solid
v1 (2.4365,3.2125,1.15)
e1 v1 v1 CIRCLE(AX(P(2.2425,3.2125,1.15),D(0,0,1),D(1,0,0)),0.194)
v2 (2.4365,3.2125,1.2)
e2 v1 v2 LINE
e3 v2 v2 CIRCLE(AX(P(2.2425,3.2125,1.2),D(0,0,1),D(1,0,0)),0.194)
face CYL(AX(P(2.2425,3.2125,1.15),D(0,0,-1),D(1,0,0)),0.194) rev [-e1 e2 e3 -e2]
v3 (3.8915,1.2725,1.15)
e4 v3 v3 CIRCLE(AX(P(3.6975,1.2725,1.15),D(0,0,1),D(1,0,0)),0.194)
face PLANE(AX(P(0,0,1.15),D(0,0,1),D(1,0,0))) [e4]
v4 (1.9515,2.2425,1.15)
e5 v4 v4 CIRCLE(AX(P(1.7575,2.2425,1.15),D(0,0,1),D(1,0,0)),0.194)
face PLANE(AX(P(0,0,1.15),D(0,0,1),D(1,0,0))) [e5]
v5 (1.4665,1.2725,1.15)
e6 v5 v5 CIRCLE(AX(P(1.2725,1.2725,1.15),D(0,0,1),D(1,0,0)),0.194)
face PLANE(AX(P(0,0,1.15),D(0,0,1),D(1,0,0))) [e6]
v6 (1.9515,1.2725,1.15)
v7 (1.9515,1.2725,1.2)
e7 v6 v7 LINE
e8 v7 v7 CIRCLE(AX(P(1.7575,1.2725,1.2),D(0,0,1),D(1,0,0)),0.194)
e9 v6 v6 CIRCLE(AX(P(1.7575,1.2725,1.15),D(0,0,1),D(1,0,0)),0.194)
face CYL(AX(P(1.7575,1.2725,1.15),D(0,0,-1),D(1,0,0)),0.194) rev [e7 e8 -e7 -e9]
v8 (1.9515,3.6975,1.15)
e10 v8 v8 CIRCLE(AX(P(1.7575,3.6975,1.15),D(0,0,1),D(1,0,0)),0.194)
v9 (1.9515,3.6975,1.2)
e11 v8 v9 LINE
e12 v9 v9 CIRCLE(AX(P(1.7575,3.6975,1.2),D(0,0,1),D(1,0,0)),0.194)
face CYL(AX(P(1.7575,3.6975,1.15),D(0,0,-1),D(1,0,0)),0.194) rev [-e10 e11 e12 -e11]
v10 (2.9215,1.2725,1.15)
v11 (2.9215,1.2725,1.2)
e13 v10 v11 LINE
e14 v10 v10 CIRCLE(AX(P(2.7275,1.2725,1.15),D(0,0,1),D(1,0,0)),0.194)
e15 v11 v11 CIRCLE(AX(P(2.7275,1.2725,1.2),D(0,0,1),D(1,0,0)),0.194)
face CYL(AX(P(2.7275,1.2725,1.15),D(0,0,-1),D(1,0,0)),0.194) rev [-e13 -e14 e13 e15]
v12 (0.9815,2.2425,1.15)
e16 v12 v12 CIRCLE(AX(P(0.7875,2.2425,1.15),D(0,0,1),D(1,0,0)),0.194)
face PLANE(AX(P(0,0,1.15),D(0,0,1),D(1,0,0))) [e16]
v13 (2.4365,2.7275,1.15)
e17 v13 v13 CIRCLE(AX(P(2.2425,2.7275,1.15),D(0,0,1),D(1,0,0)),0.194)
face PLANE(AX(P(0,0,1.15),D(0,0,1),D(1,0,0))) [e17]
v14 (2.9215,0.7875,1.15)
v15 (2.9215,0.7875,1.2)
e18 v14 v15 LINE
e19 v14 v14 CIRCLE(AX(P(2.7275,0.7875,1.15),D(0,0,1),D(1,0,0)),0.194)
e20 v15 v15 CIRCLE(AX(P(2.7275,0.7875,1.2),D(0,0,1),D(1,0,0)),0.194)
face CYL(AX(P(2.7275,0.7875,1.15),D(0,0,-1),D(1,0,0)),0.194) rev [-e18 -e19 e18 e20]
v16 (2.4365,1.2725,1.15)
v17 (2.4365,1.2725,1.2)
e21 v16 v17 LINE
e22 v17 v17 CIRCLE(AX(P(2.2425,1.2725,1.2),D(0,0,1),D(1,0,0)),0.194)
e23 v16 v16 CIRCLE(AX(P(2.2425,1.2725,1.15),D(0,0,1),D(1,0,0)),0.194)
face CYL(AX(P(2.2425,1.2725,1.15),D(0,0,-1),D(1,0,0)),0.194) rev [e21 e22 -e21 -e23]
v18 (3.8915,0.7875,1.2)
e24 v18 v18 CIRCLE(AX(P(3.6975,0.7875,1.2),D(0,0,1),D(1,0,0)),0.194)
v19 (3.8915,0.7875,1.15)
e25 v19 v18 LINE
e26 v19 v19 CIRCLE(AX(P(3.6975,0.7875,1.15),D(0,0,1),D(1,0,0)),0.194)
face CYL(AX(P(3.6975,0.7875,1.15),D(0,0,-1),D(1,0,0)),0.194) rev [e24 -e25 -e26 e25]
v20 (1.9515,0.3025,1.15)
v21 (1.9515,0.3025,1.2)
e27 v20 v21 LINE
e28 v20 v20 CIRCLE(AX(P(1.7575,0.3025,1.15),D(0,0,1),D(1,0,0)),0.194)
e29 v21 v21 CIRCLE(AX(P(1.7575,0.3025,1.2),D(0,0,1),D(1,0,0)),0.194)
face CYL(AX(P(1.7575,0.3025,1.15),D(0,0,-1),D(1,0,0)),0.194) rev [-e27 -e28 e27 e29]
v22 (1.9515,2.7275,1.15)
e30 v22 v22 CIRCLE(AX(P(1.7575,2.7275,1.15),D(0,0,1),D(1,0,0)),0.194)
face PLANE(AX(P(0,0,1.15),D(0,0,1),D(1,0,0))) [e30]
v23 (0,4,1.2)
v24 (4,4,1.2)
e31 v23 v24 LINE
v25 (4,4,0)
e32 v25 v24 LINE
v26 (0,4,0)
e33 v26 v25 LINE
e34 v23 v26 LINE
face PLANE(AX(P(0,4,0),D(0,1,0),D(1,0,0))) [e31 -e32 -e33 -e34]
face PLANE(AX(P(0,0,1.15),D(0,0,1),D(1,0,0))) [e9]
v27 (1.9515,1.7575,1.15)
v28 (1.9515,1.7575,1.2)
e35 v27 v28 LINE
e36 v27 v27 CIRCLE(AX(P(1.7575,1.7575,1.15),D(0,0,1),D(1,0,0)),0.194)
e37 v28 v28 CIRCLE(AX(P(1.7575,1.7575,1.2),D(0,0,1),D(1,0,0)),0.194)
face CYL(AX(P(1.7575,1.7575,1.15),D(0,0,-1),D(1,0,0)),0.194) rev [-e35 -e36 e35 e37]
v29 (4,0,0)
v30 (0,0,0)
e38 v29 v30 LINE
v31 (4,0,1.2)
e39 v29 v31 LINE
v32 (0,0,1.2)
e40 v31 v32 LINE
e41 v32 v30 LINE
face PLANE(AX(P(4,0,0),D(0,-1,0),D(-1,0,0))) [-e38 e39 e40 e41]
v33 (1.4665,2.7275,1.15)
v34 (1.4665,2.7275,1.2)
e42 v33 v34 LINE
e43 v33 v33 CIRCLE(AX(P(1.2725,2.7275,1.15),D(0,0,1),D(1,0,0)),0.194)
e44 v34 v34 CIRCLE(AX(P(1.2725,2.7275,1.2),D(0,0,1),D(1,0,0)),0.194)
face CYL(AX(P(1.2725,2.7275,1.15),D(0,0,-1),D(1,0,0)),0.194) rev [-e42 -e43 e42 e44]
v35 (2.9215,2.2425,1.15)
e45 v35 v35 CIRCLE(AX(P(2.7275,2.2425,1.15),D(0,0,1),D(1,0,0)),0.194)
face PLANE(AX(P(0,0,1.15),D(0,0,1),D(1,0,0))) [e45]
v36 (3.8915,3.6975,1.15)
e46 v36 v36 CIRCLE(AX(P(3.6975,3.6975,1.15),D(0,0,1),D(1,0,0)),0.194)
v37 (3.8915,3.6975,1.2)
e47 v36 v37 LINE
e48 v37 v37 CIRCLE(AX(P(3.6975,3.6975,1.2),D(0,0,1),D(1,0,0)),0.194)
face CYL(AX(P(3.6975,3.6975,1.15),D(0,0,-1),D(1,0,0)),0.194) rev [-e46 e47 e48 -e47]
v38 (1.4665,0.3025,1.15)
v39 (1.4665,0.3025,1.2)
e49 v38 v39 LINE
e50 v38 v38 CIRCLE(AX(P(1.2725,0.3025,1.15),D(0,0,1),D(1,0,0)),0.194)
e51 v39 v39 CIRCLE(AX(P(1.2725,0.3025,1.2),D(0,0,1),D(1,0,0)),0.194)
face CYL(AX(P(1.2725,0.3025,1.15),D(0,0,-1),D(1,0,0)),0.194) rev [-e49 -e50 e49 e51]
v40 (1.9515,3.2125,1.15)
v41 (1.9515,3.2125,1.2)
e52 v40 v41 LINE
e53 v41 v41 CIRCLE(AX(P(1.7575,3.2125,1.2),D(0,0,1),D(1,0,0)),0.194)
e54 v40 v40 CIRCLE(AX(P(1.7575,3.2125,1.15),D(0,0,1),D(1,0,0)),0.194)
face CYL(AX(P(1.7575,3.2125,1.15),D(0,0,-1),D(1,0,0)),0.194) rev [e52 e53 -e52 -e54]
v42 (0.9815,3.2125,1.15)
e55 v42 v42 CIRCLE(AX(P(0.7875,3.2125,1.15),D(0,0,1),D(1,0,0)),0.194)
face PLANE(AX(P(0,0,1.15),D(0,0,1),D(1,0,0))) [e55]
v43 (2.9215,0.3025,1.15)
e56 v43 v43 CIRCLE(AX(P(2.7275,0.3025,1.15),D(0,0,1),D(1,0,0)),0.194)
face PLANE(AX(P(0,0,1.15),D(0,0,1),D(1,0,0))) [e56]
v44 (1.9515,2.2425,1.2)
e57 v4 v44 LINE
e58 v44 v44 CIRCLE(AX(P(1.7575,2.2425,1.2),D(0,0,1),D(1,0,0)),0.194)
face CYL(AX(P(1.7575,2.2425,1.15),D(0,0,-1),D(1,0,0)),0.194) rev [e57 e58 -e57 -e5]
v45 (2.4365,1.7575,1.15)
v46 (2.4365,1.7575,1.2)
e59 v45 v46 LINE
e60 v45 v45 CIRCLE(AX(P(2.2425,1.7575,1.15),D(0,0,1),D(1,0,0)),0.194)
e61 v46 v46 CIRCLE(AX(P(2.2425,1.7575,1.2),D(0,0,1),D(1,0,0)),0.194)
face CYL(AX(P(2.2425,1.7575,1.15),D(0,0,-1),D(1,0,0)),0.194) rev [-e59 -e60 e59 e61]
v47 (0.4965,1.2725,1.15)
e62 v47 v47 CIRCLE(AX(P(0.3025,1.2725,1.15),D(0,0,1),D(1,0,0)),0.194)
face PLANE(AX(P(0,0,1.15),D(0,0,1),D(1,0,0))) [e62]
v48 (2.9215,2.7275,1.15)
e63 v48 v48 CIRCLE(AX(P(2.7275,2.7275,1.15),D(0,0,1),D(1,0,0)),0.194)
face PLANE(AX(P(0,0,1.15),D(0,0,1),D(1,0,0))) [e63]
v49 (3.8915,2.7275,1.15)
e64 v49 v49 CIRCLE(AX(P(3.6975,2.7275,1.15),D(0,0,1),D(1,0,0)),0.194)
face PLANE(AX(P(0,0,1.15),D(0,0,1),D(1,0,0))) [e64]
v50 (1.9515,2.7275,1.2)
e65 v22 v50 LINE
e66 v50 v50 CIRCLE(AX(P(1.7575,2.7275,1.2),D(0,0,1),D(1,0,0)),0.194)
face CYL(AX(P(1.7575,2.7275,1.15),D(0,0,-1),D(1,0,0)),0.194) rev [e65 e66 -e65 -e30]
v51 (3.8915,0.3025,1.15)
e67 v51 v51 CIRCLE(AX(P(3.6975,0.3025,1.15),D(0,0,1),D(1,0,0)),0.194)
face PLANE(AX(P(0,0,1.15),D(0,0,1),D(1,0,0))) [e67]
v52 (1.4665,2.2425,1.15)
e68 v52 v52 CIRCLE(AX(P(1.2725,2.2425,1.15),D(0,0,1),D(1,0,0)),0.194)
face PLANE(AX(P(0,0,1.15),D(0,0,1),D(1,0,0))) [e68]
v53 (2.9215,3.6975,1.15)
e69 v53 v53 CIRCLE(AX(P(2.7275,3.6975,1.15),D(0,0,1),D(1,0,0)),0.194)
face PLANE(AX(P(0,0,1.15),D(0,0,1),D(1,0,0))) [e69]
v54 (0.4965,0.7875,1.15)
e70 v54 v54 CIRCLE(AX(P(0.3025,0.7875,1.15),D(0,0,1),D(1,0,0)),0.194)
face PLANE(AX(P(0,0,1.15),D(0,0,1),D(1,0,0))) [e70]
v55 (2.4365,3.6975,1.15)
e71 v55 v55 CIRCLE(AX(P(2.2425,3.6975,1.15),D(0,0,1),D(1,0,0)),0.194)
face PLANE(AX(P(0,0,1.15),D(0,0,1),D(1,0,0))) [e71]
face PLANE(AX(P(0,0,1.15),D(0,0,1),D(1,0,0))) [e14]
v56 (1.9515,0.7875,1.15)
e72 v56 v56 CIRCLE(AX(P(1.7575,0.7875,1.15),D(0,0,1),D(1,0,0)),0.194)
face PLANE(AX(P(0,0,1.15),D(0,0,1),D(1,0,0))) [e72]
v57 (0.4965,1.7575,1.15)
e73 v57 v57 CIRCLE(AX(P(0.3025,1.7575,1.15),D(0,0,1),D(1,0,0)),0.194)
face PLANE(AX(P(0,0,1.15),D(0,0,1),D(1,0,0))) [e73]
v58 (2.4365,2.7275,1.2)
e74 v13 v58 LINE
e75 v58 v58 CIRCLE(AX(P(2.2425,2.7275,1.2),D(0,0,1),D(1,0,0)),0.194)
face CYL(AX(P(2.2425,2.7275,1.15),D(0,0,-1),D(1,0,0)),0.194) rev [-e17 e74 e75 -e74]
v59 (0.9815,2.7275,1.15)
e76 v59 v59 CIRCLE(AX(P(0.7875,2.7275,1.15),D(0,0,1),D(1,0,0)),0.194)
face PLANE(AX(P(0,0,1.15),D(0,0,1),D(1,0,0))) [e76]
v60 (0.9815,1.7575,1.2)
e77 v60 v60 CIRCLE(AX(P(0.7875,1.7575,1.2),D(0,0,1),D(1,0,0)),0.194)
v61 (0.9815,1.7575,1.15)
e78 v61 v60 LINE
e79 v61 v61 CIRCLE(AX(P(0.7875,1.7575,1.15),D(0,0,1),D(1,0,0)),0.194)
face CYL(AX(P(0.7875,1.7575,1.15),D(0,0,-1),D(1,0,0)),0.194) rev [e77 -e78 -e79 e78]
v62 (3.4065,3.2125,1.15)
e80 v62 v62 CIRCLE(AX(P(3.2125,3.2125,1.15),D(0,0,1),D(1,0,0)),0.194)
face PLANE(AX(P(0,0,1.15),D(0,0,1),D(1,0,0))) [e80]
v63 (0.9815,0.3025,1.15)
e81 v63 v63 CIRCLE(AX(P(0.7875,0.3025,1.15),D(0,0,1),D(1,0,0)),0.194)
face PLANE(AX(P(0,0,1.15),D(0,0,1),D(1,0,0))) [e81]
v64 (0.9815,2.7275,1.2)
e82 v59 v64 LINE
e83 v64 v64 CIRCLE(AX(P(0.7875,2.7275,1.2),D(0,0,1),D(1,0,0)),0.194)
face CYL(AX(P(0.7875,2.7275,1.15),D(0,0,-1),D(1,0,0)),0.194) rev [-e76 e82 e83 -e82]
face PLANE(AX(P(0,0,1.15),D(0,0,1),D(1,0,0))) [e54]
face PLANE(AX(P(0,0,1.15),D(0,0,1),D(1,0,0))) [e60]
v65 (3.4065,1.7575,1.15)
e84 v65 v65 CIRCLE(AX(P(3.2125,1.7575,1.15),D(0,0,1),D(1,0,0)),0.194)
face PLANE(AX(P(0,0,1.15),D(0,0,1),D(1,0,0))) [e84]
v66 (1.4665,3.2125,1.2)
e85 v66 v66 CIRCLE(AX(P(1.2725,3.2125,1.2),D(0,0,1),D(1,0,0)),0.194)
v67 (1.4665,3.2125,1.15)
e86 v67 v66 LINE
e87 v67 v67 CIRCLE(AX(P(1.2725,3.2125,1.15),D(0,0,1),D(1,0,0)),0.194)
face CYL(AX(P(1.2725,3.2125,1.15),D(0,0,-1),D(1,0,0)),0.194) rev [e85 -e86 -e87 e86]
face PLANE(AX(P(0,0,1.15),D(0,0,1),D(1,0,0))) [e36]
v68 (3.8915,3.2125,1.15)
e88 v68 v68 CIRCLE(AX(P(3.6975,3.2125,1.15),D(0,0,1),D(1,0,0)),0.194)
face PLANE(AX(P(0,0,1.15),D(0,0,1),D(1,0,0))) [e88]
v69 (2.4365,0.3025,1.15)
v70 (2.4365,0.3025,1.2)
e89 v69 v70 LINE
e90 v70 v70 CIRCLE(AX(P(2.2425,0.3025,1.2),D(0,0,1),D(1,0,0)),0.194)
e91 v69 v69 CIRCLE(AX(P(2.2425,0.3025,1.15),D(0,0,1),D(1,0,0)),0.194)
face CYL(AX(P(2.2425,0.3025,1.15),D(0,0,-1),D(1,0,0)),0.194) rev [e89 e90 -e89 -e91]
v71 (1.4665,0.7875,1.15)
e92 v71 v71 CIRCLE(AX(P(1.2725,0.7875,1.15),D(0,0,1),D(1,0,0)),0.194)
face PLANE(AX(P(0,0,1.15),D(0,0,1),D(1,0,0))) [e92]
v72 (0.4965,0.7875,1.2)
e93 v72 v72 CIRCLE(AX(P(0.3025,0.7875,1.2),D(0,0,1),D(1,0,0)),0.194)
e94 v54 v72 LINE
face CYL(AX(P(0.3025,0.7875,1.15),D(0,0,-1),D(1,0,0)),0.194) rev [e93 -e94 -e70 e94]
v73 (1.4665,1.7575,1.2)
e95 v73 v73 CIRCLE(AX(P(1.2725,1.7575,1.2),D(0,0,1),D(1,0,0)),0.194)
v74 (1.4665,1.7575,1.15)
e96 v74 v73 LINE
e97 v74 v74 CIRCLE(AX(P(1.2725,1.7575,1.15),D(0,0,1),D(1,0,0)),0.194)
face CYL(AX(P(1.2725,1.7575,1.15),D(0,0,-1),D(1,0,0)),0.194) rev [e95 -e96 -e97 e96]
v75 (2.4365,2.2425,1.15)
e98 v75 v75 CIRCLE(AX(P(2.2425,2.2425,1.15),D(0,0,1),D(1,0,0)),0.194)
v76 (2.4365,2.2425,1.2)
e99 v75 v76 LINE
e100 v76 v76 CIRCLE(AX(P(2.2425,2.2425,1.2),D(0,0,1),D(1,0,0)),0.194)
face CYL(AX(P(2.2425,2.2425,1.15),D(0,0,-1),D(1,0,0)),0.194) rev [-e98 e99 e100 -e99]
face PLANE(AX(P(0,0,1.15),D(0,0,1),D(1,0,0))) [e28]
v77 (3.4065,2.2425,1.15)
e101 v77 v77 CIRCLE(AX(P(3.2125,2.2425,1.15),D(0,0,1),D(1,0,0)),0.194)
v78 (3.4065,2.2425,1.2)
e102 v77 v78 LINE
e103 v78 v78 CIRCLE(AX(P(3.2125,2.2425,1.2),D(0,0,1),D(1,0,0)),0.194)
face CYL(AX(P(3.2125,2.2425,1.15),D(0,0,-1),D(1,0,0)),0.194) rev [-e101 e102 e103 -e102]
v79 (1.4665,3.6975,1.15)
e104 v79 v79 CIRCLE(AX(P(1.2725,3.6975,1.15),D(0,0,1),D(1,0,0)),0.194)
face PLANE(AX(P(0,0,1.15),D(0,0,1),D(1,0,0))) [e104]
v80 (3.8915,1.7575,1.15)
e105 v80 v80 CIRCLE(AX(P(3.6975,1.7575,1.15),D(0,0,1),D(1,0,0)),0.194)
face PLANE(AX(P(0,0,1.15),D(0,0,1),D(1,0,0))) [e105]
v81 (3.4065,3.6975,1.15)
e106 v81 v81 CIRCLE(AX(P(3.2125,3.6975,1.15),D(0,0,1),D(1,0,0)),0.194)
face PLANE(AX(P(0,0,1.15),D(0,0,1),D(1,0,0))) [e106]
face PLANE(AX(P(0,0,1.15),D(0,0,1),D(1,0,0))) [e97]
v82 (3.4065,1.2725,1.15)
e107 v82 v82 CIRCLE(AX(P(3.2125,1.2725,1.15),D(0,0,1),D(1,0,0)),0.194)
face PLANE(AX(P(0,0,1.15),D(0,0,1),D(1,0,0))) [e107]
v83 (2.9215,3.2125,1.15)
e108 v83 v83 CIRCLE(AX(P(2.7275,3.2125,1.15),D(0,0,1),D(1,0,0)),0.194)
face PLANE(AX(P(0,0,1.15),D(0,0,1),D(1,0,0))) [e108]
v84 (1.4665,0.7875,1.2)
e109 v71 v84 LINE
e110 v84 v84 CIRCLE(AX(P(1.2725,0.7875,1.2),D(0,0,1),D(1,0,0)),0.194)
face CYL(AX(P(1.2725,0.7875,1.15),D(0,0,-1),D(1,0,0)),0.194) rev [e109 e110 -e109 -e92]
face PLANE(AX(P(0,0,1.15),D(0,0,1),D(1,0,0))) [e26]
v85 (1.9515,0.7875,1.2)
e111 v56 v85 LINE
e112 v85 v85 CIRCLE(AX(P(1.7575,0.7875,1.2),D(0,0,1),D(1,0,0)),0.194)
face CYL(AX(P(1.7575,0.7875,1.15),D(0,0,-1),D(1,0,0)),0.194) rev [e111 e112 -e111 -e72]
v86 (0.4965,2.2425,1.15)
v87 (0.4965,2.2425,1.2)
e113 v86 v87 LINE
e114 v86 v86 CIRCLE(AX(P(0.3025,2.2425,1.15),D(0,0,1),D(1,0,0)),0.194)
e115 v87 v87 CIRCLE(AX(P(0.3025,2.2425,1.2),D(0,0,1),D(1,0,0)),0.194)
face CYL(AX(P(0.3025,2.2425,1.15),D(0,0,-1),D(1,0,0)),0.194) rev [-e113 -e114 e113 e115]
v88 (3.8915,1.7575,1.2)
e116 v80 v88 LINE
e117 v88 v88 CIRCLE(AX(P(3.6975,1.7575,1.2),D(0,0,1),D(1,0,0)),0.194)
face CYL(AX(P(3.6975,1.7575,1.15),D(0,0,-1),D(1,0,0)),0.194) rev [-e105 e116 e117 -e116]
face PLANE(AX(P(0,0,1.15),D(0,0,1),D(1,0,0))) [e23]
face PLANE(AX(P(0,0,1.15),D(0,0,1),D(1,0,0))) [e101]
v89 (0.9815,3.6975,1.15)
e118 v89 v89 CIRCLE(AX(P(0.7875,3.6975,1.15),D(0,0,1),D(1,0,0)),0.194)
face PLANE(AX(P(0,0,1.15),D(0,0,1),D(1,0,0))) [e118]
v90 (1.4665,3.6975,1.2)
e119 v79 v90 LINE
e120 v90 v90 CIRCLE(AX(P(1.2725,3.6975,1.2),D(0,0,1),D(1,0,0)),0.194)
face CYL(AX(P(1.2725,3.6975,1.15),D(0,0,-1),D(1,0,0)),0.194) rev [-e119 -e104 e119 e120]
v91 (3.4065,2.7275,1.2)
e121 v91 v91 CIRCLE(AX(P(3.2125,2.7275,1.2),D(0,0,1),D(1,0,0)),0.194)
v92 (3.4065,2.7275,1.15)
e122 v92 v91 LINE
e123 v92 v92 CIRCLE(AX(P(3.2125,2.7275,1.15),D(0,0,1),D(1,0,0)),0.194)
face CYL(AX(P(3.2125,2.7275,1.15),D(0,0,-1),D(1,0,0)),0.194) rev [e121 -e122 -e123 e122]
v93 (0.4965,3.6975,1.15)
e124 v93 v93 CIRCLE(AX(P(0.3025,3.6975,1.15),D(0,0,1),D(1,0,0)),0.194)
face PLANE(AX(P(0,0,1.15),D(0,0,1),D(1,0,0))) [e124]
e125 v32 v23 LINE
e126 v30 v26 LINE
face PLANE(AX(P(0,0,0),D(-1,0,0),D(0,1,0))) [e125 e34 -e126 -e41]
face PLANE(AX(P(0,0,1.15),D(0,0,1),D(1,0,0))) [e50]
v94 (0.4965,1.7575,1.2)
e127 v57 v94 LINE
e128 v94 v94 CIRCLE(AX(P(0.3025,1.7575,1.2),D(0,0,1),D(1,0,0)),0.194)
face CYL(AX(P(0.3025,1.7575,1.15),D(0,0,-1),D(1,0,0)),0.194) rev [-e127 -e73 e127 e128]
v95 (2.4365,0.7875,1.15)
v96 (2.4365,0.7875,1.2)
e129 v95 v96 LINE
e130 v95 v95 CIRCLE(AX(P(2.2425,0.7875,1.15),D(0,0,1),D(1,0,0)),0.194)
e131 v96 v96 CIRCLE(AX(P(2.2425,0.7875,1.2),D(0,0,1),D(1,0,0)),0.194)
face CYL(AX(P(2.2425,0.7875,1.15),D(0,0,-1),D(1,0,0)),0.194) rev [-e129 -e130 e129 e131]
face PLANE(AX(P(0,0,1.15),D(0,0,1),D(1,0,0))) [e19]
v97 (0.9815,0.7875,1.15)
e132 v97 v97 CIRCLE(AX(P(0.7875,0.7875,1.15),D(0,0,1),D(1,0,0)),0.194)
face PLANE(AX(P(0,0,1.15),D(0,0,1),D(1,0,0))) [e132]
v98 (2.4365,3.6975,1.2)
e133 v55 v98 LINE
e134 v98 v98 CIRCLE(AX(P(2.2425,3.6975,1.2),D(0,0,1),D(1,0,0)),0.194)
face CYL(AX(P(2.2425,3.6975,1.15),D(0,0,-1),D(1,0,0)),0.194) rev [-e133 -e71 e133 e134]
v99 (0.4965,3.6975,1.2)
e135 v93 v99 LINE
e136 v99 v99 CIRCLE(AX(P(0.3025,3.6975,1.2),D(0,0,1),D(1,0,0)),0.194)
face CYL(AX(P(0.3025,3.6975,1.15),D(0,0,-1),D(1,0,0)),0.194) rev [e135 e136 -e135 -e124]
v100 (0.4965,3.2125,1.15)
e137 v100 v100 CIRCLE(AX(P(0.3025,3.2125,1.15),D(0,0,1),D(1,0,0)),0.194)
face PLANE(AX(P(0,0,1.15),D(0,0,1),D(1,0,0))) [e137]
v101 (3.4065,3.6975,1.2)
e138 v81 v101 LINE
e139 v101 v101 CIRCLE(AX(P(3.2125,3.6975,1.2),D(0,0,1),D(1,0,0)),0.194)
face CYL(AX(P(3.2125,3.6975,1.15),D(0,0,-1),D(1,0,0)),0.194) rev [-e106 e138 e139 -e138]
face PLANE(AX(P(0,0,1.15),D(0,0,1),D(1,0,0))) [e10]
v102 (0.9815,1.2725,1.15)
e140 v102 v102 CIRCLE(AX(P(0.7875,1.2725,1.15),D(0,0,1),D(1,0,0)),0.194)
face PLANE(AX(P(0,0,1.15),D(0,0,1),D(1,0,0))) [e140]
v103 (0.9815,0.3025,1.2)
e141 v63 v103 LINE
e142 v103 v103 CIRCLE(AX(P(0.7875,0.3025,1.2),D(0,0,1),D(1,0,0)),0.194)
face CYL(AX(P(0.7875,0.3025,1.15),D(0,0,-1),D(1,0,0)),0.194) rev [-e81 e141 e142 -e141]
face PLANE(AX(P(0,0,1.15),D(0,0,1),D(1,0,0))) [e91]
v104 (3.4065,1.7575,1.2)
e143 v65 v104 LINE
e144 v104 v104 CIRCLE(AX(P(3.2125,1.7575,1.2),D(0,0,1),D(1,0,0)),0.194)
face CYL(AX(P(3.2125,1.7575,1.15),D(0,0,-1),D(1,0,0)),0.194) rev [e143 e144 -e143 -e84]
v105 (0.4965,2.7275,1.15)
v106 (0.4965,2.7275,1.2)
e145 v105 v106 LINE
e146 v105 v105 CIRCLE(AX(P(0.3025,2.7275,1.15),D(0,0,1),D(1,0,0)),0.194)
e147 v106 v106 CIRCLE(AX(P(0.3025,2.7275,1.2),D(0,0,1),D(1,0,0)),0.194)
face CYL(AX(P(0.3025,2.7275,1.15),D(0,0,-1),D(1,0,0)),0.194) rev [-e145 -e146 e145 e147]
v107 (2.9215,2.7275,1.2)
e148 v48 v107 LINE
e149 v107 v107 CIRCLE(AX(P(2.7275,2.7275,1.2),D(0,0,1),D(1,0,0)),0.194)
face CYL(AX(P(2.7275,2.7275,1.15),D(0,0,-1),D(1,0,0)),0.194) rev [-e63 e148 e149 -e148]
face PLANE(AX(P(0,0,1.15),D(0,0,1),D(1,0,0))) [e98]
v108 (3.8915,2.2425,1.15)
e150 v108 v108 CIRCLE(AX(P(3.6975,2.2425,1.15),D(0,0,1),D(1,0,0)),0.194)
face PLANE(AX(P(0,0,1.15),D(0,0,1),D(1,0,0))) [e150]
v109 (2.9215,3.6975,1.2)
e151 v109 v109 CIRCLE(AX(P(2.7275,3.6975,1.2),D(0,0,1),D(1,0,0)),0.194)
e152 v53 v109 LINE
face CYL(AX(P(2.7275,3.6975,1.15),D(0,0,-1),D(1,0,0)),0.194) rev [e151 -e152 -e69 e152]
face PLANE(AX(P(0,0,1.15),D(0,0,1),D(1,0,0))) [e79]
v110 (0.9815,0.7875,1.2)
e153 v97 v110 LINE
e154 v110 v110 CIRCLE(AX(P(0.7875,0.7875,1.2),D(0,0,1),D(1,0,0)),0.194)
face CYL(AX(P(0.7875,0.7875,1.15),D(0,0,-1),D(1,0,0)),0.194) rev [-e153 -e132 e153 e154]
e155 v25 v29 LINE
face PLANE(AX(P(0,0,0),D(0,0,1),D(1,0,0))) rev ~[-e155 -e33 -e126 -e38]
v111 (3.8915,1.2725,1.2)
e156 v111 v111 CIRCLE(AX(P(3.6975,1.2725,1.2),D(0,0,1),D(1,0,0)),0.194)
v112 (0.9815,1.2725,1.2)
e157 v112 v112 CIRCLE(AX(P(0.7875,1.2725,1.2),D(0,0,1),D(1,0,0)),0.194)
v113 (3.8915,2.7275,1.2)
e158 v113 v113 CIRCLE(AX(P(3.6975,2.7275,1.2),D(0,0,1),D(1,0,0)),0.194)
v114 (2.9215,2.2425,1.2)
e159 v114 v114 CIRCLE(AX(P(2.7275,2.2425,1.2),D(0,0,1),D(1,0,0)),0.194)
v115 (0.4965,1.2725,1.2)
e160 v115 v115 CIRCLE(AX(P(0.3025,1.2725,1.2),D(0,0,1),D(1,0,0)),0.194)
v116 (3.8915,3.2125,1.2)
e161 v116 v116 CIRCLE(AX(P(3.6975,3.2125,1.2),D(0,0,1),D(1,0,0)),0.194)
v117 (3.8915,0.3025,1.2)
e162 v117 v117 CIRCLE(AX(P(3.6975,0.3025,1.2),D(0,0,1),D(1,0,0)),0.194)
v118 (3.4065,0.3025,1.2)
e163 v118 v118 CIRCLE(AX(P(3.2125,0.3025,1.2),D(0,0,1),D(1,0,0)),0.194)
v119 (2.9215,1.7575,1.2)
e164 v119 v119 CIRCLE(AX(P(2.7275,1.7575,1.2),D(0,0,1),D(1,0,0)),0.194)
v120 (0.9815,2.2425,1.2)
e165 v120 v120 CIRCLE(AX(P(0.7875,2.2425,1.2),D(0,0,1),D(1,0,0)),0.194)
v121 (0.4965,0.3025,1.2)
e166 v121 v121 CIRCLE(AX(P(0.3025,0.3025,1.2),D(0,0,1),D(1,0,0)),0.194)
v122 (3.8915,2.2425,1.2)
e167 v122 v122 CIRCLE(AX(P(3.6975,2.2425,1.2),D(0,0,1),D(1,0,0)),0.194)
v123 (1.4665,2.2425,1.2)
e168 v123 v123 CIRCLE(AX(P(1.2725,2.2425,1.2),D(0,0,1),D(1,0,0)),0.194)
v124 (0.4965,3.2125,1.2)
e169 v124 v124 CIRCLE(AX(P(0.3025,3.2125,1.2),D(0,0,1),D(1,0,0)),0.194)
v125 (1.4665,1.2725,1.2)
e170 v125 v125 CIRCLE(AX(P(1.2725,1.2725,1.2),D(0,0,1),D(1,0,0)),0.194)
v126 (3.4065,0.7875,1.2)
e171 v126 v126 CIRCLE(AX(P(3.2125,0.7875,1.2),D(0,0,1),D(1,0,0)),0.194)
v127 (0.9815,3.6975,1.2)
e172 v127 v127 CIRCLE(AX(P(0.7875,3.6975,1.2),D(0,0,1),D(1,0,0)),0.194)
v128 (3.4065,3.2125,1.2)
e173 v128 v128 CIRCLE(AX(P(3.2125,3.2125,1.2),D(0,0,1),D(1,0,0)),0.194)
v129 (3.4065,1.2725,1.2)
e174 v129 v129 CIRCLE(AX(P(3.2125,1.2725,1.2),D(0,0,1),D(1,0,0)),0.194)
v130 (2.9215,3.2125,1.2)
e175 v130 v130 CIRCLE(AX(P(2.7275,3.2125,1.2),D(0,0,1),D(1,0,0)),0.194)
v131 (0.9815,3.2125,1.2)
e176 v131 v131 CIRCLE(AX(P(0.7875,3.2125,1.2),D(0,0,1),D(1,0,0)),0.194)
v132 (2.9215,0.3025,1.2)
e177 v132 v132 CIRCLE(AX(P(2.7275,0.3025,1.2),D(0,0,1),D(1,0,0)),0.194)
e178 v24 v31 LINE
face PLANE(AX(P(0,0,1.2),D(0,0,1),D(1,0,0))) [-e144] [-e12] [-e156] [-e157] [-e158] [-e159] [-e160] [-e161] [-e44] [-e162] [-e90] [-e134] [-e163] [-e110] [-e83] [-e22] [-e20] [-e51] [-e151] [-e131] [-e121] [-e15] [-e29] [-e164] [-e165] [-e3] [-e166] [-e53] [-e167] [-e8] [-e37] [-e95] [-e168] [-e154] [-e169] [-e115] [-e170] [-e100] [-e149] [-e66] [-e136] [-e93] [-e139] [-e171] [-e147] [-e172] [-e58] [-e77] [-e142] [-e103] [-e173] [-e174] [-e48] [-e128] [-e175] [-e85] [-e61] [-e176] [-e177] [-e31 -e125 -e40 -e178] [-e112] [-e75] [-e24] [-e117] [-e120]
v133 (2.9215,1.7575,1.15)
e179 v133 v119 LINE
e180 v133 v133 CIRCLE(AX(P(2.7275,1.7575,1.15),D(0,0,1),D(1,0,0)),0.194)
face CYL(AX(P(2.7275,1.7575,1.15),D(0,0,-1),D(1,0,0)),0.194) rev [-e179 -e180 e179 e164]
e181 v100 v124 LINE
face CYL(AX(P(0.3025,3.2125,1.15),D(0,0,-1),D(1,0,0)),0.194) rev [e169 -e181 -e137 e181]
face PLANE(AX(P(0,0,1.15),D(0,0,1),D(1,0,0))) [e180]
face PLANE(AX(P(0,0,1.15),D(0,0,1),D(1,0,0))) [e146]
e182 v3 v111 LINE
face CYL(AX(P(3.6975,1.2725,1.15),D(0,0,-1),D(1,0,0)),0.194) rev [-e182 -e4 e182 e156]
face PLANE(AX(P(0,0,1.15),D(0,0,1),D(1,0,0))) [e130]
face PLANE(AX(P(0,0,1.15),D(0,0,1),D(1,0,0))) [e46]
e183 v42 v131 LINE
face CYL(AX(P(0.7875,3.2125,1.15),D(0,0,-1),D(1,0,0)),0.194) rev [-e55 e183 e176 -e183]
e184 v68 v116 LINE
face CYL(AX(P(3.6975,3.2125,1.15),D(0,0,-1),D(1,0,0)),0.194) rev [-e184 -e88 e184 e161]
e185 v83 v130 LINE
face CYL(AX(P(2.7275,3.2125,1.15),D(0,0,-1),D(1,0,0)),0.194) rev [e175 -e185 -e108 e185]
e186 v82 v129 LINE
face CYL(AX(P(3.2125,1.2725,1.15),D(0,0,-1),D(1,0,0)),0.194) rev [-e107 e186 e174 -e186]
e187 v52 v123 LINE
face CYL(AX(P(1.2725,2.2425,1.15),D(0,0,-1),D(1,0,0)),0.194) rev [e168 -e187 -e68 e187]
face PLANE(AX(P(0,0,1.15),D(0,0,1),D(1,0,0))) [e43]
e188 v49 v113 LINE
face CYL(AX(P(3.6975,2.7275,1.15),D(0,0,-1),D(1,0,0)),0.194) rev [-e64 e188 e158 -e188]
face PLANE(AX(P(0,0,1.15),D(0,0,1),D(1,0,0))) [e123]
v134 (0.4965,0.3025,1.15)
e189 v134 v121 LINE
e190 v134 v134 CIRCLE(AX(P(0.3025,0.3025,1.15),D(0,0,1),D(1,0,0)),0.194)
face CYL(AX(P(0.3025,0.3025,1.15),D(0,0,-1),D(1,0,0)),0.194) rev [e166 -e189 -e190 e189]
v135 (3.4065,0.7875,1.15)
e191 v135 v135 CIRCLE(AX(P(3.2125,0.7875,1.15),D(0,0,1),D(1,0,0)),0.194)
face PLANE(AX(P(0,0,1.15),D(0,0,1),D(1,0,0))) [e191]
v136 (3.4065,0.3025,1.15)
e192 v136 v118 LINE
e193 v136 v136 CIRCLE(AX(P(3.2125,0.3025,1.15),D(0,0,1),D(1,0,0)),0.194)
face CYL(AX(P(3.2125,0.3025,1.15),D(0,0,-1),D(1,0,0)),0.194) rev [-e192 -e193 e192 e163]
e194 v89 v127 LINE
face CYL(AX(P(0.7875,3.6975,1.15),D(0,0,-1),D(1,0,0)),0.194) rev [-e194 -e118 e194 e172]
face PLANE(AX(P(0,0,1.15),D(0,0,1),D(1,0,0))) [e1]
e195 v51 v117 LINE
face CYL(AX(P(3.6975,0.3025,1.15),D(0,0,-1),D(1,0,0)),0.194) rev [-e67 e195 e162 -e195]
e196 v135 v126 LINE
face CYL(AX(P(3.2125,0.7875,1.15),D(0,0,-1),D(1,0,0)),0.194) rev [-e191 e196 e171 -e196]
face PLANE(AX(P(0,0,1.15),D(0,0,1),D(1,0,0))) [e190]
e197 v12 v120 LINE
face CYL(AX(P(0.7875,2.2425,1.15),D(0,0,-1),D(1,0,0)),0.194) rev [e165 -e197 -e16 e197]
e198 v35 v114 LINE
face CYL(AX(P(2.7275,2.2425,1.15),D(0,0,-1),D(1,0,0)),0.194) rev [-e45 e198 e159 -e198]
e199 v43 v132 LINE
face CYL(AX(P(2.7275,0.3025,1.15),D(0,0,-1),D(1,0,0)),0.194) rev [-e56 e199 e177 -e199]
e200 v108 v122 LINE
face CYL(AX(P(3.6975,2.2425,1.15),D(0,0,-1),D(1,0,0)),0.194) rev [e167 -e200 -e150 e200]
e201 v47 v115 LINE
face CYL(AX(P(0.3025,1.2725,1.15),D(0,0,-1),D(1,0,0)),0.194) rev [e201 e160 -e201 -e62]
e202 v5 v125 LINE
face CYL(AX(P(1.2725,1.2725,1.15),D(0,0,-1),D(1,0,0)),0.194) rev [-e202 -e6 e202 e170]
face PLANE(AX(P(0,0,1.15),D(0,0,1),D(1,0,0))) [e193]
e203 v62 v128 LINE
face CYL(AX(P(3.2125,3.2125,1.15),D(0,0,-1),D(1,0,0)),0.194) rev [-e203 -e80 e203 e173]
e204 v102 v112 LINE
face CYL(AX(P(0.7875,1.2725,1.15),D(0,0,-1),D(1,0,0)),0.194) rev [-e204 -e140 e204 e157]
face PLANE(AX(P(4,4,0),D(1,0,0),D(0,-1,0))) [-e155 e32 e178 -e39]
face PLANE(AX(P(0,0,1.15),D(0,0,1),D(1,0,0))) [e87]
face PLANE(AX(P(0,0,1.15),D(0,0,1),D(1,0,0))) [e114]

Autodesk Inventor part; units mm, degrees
ref_plane "YZ Plane" through (0, 0, 0) normal (1, 0, 0) x (0, 1, 0)
ref_plane "XZ Plane" through (0, 0, 0) normal (0, 1, 0) x (-1, 0, 0)
ref_plane "XY Plane" through (0, 0, 0) normal (0, 0, 1) x (1, 0, 0)
sketch "Boceto3" plane through (0, 0, 0) normal (0, 0, 1) x (1, 0, 0)
  line L0 (4, 0) -> (0, 0)
  line L1 (0, 0) -> (0, 4)
  line L2 (0, 4) -> (4, 4)
  line L3 (4, 4) -> (4, 0)
extrude "Extrusión3" add sketch "Boceto3" along normal blind 1.15
sketch "Boceto4" plane through (0, 0, 1.15) normal (0, 0, 1) x (1, 0, 0)
  line L0 (4, 0) -> (0, 0)
  line L1 (0, 0) -> (0, 4)
  line L2 (0, 4) -> (4, 4)
  line L3 (4, 4) -> (4, 0)
  circle A0 centre (1.7575, 2.2425) radius 0.194
  circle A1 centre (1.2725, 2.2425) radius 0.194
  circle A2 centre (0.7875, 2.2425) radius 0.194
  circle A3 centre (0.3025, 2.2425) radius 0.194
  circle A4 centre (2.2425, 2.2425) radius 0.194
  circle A5 centre (2.7275, 2.2425) radius 0.194
  circle A6 centre (3.2125, 2.2425) radius 0.194
  circle A7 centre (3.6975, 2.2425) radius 0.194
  circle A8 centre (1.7575, 1.7575) radius 0.194
  circle A9 centre (1.2725, 1.7575) radius 0.194
  circle A10 centre (0.7875, 1.7575) radius 0.194
  circle A11 centre (0.3025, 1.7575) radius 0.194
  circle A12 centre (2.2425, 1.7575) radius 0.194
  circle A13 centre (2.7275, 1.7575) radius 0.194
  circle A14 centre (3.2125, 1.7575) radius 0.194
  circle A15 centre (3.6975, 1.7575) radius 0.194
  circle A16 centre (1.7575, 1.2725) radius 0.194
  circle A17 centre (1.2725, 1.2725) radius 0.194
  circle A18 centre (0.7875, 1.2725) radius 0.194
  circle A19 centre (0.3025, 1.2725) radius 0.194
  circle A20 centre (2.2425, 1.2725) radius 0.194
  circle A21 centre (2.7275, 1.2725) radius 0.194
  circle A22 centre (3.2125, 1.2725) radius 0.194
  circle A23 centre (3.6975, 1.2725) radius 0.194
  circle A24 centre (1.7575, 0.7875) radius 0.194
  circle A25 centre (1.2725, 0.7875) radius 0.194
  circle A26 centre (0.7875, 0.7875) radius 0.194
  circle A27 centre (0.3025, 0.7875) radius 0.194
  circle A28 centre (2.2425, 0.7875) radius 0.194
  circle A29 centre (2.7275, 0.7875) radius 0.194
  circle A30 centre (3.2125, 0.7875) radius 0.194
  circle A31 centre (3.6975, 0.7875) radius 0.194
  circle A32 centre (1.7575, 0.3025) radius 0.194
  circle A33 centre (1.2725, 0.3025) radius 0.194
  circle A34 centre (0.7875, 0.3025) radius 0.194
  circle A35 centre (0.3025, 0.3025) radius 0.194
  circle A36 centre (2.2425, 0.3025) radius 0.194
  circle A37 centre (2.7275, 0.3025) radius 0.194
  circle A38 centre (3.2125, 0.3025) radius 0.194
  circle A39 centre (3.6975, 0.3025) radius 0.194
  circle A40 centre (1.7575, 2.7275) radius 0.194
  circle A41 centre (1.2725, 2.7275) radius 0.194
  circle A42 centre (0.7875, 2.7275) radius 0.194
  circle A43 centre (0.3025, 2.7275) radius 0.194
  circle A44 centre (2.2425, 2.7275) radius 0.194
  circle A45 centre (2.7275, 2.7275) radius 0.194
  circle A46 centre (3.2125, 2.7275) radius 0.194
  circle A47 centre (3.6975, 2.7275) radius 0.194
  circle A48 centre (1.7575, 3.2125) radius 0.194
  circle A49 centre (1.2725, 3.2125) radius 0.194
  circle A50 centre (0.7875, 3.2125) radius 0.194
  circle A51 centre (0.3025, 3.2125) radius 0.194
  circle A52 centre (2.2425, 3.2125) radius 0.194
  circle A53 centre (2.7275, 3.2125) radius 0.194
  circle A54 centre (3.2125, 3.2125) radius 0.194
  circle A55 centre (3.6975, 3.2125) radius 0.194
  circle A56 centre (1.7575, 3.6975) radius 0.194
  circle A57 centre (1.2725, 3.6975) radius 0.194
  circle A58 centre (0.7875, 3.6975) radius 0.194
  circle A59 centre (0.3025, 3.6975) radius 0.194
  circle A60 centre (2.2425, 3.6975) radius 0.194
  circle A61 centre (2.7275, 3.6975) radius 0.194
  circle A62 centre (3.2125, 3.6975) radius 0.194
  circle A63 centre (3.6975, 3.6975) radius 0.194
extrude "Extrusión4" add sketch "Boceto4" along normal blind 0.05
sketch "Boceto5" plane through (0, 0, 0) normal (0, 0, -1) x (-1, 0, 0)
  point P0 (0, 0)
properties part number "led2"
